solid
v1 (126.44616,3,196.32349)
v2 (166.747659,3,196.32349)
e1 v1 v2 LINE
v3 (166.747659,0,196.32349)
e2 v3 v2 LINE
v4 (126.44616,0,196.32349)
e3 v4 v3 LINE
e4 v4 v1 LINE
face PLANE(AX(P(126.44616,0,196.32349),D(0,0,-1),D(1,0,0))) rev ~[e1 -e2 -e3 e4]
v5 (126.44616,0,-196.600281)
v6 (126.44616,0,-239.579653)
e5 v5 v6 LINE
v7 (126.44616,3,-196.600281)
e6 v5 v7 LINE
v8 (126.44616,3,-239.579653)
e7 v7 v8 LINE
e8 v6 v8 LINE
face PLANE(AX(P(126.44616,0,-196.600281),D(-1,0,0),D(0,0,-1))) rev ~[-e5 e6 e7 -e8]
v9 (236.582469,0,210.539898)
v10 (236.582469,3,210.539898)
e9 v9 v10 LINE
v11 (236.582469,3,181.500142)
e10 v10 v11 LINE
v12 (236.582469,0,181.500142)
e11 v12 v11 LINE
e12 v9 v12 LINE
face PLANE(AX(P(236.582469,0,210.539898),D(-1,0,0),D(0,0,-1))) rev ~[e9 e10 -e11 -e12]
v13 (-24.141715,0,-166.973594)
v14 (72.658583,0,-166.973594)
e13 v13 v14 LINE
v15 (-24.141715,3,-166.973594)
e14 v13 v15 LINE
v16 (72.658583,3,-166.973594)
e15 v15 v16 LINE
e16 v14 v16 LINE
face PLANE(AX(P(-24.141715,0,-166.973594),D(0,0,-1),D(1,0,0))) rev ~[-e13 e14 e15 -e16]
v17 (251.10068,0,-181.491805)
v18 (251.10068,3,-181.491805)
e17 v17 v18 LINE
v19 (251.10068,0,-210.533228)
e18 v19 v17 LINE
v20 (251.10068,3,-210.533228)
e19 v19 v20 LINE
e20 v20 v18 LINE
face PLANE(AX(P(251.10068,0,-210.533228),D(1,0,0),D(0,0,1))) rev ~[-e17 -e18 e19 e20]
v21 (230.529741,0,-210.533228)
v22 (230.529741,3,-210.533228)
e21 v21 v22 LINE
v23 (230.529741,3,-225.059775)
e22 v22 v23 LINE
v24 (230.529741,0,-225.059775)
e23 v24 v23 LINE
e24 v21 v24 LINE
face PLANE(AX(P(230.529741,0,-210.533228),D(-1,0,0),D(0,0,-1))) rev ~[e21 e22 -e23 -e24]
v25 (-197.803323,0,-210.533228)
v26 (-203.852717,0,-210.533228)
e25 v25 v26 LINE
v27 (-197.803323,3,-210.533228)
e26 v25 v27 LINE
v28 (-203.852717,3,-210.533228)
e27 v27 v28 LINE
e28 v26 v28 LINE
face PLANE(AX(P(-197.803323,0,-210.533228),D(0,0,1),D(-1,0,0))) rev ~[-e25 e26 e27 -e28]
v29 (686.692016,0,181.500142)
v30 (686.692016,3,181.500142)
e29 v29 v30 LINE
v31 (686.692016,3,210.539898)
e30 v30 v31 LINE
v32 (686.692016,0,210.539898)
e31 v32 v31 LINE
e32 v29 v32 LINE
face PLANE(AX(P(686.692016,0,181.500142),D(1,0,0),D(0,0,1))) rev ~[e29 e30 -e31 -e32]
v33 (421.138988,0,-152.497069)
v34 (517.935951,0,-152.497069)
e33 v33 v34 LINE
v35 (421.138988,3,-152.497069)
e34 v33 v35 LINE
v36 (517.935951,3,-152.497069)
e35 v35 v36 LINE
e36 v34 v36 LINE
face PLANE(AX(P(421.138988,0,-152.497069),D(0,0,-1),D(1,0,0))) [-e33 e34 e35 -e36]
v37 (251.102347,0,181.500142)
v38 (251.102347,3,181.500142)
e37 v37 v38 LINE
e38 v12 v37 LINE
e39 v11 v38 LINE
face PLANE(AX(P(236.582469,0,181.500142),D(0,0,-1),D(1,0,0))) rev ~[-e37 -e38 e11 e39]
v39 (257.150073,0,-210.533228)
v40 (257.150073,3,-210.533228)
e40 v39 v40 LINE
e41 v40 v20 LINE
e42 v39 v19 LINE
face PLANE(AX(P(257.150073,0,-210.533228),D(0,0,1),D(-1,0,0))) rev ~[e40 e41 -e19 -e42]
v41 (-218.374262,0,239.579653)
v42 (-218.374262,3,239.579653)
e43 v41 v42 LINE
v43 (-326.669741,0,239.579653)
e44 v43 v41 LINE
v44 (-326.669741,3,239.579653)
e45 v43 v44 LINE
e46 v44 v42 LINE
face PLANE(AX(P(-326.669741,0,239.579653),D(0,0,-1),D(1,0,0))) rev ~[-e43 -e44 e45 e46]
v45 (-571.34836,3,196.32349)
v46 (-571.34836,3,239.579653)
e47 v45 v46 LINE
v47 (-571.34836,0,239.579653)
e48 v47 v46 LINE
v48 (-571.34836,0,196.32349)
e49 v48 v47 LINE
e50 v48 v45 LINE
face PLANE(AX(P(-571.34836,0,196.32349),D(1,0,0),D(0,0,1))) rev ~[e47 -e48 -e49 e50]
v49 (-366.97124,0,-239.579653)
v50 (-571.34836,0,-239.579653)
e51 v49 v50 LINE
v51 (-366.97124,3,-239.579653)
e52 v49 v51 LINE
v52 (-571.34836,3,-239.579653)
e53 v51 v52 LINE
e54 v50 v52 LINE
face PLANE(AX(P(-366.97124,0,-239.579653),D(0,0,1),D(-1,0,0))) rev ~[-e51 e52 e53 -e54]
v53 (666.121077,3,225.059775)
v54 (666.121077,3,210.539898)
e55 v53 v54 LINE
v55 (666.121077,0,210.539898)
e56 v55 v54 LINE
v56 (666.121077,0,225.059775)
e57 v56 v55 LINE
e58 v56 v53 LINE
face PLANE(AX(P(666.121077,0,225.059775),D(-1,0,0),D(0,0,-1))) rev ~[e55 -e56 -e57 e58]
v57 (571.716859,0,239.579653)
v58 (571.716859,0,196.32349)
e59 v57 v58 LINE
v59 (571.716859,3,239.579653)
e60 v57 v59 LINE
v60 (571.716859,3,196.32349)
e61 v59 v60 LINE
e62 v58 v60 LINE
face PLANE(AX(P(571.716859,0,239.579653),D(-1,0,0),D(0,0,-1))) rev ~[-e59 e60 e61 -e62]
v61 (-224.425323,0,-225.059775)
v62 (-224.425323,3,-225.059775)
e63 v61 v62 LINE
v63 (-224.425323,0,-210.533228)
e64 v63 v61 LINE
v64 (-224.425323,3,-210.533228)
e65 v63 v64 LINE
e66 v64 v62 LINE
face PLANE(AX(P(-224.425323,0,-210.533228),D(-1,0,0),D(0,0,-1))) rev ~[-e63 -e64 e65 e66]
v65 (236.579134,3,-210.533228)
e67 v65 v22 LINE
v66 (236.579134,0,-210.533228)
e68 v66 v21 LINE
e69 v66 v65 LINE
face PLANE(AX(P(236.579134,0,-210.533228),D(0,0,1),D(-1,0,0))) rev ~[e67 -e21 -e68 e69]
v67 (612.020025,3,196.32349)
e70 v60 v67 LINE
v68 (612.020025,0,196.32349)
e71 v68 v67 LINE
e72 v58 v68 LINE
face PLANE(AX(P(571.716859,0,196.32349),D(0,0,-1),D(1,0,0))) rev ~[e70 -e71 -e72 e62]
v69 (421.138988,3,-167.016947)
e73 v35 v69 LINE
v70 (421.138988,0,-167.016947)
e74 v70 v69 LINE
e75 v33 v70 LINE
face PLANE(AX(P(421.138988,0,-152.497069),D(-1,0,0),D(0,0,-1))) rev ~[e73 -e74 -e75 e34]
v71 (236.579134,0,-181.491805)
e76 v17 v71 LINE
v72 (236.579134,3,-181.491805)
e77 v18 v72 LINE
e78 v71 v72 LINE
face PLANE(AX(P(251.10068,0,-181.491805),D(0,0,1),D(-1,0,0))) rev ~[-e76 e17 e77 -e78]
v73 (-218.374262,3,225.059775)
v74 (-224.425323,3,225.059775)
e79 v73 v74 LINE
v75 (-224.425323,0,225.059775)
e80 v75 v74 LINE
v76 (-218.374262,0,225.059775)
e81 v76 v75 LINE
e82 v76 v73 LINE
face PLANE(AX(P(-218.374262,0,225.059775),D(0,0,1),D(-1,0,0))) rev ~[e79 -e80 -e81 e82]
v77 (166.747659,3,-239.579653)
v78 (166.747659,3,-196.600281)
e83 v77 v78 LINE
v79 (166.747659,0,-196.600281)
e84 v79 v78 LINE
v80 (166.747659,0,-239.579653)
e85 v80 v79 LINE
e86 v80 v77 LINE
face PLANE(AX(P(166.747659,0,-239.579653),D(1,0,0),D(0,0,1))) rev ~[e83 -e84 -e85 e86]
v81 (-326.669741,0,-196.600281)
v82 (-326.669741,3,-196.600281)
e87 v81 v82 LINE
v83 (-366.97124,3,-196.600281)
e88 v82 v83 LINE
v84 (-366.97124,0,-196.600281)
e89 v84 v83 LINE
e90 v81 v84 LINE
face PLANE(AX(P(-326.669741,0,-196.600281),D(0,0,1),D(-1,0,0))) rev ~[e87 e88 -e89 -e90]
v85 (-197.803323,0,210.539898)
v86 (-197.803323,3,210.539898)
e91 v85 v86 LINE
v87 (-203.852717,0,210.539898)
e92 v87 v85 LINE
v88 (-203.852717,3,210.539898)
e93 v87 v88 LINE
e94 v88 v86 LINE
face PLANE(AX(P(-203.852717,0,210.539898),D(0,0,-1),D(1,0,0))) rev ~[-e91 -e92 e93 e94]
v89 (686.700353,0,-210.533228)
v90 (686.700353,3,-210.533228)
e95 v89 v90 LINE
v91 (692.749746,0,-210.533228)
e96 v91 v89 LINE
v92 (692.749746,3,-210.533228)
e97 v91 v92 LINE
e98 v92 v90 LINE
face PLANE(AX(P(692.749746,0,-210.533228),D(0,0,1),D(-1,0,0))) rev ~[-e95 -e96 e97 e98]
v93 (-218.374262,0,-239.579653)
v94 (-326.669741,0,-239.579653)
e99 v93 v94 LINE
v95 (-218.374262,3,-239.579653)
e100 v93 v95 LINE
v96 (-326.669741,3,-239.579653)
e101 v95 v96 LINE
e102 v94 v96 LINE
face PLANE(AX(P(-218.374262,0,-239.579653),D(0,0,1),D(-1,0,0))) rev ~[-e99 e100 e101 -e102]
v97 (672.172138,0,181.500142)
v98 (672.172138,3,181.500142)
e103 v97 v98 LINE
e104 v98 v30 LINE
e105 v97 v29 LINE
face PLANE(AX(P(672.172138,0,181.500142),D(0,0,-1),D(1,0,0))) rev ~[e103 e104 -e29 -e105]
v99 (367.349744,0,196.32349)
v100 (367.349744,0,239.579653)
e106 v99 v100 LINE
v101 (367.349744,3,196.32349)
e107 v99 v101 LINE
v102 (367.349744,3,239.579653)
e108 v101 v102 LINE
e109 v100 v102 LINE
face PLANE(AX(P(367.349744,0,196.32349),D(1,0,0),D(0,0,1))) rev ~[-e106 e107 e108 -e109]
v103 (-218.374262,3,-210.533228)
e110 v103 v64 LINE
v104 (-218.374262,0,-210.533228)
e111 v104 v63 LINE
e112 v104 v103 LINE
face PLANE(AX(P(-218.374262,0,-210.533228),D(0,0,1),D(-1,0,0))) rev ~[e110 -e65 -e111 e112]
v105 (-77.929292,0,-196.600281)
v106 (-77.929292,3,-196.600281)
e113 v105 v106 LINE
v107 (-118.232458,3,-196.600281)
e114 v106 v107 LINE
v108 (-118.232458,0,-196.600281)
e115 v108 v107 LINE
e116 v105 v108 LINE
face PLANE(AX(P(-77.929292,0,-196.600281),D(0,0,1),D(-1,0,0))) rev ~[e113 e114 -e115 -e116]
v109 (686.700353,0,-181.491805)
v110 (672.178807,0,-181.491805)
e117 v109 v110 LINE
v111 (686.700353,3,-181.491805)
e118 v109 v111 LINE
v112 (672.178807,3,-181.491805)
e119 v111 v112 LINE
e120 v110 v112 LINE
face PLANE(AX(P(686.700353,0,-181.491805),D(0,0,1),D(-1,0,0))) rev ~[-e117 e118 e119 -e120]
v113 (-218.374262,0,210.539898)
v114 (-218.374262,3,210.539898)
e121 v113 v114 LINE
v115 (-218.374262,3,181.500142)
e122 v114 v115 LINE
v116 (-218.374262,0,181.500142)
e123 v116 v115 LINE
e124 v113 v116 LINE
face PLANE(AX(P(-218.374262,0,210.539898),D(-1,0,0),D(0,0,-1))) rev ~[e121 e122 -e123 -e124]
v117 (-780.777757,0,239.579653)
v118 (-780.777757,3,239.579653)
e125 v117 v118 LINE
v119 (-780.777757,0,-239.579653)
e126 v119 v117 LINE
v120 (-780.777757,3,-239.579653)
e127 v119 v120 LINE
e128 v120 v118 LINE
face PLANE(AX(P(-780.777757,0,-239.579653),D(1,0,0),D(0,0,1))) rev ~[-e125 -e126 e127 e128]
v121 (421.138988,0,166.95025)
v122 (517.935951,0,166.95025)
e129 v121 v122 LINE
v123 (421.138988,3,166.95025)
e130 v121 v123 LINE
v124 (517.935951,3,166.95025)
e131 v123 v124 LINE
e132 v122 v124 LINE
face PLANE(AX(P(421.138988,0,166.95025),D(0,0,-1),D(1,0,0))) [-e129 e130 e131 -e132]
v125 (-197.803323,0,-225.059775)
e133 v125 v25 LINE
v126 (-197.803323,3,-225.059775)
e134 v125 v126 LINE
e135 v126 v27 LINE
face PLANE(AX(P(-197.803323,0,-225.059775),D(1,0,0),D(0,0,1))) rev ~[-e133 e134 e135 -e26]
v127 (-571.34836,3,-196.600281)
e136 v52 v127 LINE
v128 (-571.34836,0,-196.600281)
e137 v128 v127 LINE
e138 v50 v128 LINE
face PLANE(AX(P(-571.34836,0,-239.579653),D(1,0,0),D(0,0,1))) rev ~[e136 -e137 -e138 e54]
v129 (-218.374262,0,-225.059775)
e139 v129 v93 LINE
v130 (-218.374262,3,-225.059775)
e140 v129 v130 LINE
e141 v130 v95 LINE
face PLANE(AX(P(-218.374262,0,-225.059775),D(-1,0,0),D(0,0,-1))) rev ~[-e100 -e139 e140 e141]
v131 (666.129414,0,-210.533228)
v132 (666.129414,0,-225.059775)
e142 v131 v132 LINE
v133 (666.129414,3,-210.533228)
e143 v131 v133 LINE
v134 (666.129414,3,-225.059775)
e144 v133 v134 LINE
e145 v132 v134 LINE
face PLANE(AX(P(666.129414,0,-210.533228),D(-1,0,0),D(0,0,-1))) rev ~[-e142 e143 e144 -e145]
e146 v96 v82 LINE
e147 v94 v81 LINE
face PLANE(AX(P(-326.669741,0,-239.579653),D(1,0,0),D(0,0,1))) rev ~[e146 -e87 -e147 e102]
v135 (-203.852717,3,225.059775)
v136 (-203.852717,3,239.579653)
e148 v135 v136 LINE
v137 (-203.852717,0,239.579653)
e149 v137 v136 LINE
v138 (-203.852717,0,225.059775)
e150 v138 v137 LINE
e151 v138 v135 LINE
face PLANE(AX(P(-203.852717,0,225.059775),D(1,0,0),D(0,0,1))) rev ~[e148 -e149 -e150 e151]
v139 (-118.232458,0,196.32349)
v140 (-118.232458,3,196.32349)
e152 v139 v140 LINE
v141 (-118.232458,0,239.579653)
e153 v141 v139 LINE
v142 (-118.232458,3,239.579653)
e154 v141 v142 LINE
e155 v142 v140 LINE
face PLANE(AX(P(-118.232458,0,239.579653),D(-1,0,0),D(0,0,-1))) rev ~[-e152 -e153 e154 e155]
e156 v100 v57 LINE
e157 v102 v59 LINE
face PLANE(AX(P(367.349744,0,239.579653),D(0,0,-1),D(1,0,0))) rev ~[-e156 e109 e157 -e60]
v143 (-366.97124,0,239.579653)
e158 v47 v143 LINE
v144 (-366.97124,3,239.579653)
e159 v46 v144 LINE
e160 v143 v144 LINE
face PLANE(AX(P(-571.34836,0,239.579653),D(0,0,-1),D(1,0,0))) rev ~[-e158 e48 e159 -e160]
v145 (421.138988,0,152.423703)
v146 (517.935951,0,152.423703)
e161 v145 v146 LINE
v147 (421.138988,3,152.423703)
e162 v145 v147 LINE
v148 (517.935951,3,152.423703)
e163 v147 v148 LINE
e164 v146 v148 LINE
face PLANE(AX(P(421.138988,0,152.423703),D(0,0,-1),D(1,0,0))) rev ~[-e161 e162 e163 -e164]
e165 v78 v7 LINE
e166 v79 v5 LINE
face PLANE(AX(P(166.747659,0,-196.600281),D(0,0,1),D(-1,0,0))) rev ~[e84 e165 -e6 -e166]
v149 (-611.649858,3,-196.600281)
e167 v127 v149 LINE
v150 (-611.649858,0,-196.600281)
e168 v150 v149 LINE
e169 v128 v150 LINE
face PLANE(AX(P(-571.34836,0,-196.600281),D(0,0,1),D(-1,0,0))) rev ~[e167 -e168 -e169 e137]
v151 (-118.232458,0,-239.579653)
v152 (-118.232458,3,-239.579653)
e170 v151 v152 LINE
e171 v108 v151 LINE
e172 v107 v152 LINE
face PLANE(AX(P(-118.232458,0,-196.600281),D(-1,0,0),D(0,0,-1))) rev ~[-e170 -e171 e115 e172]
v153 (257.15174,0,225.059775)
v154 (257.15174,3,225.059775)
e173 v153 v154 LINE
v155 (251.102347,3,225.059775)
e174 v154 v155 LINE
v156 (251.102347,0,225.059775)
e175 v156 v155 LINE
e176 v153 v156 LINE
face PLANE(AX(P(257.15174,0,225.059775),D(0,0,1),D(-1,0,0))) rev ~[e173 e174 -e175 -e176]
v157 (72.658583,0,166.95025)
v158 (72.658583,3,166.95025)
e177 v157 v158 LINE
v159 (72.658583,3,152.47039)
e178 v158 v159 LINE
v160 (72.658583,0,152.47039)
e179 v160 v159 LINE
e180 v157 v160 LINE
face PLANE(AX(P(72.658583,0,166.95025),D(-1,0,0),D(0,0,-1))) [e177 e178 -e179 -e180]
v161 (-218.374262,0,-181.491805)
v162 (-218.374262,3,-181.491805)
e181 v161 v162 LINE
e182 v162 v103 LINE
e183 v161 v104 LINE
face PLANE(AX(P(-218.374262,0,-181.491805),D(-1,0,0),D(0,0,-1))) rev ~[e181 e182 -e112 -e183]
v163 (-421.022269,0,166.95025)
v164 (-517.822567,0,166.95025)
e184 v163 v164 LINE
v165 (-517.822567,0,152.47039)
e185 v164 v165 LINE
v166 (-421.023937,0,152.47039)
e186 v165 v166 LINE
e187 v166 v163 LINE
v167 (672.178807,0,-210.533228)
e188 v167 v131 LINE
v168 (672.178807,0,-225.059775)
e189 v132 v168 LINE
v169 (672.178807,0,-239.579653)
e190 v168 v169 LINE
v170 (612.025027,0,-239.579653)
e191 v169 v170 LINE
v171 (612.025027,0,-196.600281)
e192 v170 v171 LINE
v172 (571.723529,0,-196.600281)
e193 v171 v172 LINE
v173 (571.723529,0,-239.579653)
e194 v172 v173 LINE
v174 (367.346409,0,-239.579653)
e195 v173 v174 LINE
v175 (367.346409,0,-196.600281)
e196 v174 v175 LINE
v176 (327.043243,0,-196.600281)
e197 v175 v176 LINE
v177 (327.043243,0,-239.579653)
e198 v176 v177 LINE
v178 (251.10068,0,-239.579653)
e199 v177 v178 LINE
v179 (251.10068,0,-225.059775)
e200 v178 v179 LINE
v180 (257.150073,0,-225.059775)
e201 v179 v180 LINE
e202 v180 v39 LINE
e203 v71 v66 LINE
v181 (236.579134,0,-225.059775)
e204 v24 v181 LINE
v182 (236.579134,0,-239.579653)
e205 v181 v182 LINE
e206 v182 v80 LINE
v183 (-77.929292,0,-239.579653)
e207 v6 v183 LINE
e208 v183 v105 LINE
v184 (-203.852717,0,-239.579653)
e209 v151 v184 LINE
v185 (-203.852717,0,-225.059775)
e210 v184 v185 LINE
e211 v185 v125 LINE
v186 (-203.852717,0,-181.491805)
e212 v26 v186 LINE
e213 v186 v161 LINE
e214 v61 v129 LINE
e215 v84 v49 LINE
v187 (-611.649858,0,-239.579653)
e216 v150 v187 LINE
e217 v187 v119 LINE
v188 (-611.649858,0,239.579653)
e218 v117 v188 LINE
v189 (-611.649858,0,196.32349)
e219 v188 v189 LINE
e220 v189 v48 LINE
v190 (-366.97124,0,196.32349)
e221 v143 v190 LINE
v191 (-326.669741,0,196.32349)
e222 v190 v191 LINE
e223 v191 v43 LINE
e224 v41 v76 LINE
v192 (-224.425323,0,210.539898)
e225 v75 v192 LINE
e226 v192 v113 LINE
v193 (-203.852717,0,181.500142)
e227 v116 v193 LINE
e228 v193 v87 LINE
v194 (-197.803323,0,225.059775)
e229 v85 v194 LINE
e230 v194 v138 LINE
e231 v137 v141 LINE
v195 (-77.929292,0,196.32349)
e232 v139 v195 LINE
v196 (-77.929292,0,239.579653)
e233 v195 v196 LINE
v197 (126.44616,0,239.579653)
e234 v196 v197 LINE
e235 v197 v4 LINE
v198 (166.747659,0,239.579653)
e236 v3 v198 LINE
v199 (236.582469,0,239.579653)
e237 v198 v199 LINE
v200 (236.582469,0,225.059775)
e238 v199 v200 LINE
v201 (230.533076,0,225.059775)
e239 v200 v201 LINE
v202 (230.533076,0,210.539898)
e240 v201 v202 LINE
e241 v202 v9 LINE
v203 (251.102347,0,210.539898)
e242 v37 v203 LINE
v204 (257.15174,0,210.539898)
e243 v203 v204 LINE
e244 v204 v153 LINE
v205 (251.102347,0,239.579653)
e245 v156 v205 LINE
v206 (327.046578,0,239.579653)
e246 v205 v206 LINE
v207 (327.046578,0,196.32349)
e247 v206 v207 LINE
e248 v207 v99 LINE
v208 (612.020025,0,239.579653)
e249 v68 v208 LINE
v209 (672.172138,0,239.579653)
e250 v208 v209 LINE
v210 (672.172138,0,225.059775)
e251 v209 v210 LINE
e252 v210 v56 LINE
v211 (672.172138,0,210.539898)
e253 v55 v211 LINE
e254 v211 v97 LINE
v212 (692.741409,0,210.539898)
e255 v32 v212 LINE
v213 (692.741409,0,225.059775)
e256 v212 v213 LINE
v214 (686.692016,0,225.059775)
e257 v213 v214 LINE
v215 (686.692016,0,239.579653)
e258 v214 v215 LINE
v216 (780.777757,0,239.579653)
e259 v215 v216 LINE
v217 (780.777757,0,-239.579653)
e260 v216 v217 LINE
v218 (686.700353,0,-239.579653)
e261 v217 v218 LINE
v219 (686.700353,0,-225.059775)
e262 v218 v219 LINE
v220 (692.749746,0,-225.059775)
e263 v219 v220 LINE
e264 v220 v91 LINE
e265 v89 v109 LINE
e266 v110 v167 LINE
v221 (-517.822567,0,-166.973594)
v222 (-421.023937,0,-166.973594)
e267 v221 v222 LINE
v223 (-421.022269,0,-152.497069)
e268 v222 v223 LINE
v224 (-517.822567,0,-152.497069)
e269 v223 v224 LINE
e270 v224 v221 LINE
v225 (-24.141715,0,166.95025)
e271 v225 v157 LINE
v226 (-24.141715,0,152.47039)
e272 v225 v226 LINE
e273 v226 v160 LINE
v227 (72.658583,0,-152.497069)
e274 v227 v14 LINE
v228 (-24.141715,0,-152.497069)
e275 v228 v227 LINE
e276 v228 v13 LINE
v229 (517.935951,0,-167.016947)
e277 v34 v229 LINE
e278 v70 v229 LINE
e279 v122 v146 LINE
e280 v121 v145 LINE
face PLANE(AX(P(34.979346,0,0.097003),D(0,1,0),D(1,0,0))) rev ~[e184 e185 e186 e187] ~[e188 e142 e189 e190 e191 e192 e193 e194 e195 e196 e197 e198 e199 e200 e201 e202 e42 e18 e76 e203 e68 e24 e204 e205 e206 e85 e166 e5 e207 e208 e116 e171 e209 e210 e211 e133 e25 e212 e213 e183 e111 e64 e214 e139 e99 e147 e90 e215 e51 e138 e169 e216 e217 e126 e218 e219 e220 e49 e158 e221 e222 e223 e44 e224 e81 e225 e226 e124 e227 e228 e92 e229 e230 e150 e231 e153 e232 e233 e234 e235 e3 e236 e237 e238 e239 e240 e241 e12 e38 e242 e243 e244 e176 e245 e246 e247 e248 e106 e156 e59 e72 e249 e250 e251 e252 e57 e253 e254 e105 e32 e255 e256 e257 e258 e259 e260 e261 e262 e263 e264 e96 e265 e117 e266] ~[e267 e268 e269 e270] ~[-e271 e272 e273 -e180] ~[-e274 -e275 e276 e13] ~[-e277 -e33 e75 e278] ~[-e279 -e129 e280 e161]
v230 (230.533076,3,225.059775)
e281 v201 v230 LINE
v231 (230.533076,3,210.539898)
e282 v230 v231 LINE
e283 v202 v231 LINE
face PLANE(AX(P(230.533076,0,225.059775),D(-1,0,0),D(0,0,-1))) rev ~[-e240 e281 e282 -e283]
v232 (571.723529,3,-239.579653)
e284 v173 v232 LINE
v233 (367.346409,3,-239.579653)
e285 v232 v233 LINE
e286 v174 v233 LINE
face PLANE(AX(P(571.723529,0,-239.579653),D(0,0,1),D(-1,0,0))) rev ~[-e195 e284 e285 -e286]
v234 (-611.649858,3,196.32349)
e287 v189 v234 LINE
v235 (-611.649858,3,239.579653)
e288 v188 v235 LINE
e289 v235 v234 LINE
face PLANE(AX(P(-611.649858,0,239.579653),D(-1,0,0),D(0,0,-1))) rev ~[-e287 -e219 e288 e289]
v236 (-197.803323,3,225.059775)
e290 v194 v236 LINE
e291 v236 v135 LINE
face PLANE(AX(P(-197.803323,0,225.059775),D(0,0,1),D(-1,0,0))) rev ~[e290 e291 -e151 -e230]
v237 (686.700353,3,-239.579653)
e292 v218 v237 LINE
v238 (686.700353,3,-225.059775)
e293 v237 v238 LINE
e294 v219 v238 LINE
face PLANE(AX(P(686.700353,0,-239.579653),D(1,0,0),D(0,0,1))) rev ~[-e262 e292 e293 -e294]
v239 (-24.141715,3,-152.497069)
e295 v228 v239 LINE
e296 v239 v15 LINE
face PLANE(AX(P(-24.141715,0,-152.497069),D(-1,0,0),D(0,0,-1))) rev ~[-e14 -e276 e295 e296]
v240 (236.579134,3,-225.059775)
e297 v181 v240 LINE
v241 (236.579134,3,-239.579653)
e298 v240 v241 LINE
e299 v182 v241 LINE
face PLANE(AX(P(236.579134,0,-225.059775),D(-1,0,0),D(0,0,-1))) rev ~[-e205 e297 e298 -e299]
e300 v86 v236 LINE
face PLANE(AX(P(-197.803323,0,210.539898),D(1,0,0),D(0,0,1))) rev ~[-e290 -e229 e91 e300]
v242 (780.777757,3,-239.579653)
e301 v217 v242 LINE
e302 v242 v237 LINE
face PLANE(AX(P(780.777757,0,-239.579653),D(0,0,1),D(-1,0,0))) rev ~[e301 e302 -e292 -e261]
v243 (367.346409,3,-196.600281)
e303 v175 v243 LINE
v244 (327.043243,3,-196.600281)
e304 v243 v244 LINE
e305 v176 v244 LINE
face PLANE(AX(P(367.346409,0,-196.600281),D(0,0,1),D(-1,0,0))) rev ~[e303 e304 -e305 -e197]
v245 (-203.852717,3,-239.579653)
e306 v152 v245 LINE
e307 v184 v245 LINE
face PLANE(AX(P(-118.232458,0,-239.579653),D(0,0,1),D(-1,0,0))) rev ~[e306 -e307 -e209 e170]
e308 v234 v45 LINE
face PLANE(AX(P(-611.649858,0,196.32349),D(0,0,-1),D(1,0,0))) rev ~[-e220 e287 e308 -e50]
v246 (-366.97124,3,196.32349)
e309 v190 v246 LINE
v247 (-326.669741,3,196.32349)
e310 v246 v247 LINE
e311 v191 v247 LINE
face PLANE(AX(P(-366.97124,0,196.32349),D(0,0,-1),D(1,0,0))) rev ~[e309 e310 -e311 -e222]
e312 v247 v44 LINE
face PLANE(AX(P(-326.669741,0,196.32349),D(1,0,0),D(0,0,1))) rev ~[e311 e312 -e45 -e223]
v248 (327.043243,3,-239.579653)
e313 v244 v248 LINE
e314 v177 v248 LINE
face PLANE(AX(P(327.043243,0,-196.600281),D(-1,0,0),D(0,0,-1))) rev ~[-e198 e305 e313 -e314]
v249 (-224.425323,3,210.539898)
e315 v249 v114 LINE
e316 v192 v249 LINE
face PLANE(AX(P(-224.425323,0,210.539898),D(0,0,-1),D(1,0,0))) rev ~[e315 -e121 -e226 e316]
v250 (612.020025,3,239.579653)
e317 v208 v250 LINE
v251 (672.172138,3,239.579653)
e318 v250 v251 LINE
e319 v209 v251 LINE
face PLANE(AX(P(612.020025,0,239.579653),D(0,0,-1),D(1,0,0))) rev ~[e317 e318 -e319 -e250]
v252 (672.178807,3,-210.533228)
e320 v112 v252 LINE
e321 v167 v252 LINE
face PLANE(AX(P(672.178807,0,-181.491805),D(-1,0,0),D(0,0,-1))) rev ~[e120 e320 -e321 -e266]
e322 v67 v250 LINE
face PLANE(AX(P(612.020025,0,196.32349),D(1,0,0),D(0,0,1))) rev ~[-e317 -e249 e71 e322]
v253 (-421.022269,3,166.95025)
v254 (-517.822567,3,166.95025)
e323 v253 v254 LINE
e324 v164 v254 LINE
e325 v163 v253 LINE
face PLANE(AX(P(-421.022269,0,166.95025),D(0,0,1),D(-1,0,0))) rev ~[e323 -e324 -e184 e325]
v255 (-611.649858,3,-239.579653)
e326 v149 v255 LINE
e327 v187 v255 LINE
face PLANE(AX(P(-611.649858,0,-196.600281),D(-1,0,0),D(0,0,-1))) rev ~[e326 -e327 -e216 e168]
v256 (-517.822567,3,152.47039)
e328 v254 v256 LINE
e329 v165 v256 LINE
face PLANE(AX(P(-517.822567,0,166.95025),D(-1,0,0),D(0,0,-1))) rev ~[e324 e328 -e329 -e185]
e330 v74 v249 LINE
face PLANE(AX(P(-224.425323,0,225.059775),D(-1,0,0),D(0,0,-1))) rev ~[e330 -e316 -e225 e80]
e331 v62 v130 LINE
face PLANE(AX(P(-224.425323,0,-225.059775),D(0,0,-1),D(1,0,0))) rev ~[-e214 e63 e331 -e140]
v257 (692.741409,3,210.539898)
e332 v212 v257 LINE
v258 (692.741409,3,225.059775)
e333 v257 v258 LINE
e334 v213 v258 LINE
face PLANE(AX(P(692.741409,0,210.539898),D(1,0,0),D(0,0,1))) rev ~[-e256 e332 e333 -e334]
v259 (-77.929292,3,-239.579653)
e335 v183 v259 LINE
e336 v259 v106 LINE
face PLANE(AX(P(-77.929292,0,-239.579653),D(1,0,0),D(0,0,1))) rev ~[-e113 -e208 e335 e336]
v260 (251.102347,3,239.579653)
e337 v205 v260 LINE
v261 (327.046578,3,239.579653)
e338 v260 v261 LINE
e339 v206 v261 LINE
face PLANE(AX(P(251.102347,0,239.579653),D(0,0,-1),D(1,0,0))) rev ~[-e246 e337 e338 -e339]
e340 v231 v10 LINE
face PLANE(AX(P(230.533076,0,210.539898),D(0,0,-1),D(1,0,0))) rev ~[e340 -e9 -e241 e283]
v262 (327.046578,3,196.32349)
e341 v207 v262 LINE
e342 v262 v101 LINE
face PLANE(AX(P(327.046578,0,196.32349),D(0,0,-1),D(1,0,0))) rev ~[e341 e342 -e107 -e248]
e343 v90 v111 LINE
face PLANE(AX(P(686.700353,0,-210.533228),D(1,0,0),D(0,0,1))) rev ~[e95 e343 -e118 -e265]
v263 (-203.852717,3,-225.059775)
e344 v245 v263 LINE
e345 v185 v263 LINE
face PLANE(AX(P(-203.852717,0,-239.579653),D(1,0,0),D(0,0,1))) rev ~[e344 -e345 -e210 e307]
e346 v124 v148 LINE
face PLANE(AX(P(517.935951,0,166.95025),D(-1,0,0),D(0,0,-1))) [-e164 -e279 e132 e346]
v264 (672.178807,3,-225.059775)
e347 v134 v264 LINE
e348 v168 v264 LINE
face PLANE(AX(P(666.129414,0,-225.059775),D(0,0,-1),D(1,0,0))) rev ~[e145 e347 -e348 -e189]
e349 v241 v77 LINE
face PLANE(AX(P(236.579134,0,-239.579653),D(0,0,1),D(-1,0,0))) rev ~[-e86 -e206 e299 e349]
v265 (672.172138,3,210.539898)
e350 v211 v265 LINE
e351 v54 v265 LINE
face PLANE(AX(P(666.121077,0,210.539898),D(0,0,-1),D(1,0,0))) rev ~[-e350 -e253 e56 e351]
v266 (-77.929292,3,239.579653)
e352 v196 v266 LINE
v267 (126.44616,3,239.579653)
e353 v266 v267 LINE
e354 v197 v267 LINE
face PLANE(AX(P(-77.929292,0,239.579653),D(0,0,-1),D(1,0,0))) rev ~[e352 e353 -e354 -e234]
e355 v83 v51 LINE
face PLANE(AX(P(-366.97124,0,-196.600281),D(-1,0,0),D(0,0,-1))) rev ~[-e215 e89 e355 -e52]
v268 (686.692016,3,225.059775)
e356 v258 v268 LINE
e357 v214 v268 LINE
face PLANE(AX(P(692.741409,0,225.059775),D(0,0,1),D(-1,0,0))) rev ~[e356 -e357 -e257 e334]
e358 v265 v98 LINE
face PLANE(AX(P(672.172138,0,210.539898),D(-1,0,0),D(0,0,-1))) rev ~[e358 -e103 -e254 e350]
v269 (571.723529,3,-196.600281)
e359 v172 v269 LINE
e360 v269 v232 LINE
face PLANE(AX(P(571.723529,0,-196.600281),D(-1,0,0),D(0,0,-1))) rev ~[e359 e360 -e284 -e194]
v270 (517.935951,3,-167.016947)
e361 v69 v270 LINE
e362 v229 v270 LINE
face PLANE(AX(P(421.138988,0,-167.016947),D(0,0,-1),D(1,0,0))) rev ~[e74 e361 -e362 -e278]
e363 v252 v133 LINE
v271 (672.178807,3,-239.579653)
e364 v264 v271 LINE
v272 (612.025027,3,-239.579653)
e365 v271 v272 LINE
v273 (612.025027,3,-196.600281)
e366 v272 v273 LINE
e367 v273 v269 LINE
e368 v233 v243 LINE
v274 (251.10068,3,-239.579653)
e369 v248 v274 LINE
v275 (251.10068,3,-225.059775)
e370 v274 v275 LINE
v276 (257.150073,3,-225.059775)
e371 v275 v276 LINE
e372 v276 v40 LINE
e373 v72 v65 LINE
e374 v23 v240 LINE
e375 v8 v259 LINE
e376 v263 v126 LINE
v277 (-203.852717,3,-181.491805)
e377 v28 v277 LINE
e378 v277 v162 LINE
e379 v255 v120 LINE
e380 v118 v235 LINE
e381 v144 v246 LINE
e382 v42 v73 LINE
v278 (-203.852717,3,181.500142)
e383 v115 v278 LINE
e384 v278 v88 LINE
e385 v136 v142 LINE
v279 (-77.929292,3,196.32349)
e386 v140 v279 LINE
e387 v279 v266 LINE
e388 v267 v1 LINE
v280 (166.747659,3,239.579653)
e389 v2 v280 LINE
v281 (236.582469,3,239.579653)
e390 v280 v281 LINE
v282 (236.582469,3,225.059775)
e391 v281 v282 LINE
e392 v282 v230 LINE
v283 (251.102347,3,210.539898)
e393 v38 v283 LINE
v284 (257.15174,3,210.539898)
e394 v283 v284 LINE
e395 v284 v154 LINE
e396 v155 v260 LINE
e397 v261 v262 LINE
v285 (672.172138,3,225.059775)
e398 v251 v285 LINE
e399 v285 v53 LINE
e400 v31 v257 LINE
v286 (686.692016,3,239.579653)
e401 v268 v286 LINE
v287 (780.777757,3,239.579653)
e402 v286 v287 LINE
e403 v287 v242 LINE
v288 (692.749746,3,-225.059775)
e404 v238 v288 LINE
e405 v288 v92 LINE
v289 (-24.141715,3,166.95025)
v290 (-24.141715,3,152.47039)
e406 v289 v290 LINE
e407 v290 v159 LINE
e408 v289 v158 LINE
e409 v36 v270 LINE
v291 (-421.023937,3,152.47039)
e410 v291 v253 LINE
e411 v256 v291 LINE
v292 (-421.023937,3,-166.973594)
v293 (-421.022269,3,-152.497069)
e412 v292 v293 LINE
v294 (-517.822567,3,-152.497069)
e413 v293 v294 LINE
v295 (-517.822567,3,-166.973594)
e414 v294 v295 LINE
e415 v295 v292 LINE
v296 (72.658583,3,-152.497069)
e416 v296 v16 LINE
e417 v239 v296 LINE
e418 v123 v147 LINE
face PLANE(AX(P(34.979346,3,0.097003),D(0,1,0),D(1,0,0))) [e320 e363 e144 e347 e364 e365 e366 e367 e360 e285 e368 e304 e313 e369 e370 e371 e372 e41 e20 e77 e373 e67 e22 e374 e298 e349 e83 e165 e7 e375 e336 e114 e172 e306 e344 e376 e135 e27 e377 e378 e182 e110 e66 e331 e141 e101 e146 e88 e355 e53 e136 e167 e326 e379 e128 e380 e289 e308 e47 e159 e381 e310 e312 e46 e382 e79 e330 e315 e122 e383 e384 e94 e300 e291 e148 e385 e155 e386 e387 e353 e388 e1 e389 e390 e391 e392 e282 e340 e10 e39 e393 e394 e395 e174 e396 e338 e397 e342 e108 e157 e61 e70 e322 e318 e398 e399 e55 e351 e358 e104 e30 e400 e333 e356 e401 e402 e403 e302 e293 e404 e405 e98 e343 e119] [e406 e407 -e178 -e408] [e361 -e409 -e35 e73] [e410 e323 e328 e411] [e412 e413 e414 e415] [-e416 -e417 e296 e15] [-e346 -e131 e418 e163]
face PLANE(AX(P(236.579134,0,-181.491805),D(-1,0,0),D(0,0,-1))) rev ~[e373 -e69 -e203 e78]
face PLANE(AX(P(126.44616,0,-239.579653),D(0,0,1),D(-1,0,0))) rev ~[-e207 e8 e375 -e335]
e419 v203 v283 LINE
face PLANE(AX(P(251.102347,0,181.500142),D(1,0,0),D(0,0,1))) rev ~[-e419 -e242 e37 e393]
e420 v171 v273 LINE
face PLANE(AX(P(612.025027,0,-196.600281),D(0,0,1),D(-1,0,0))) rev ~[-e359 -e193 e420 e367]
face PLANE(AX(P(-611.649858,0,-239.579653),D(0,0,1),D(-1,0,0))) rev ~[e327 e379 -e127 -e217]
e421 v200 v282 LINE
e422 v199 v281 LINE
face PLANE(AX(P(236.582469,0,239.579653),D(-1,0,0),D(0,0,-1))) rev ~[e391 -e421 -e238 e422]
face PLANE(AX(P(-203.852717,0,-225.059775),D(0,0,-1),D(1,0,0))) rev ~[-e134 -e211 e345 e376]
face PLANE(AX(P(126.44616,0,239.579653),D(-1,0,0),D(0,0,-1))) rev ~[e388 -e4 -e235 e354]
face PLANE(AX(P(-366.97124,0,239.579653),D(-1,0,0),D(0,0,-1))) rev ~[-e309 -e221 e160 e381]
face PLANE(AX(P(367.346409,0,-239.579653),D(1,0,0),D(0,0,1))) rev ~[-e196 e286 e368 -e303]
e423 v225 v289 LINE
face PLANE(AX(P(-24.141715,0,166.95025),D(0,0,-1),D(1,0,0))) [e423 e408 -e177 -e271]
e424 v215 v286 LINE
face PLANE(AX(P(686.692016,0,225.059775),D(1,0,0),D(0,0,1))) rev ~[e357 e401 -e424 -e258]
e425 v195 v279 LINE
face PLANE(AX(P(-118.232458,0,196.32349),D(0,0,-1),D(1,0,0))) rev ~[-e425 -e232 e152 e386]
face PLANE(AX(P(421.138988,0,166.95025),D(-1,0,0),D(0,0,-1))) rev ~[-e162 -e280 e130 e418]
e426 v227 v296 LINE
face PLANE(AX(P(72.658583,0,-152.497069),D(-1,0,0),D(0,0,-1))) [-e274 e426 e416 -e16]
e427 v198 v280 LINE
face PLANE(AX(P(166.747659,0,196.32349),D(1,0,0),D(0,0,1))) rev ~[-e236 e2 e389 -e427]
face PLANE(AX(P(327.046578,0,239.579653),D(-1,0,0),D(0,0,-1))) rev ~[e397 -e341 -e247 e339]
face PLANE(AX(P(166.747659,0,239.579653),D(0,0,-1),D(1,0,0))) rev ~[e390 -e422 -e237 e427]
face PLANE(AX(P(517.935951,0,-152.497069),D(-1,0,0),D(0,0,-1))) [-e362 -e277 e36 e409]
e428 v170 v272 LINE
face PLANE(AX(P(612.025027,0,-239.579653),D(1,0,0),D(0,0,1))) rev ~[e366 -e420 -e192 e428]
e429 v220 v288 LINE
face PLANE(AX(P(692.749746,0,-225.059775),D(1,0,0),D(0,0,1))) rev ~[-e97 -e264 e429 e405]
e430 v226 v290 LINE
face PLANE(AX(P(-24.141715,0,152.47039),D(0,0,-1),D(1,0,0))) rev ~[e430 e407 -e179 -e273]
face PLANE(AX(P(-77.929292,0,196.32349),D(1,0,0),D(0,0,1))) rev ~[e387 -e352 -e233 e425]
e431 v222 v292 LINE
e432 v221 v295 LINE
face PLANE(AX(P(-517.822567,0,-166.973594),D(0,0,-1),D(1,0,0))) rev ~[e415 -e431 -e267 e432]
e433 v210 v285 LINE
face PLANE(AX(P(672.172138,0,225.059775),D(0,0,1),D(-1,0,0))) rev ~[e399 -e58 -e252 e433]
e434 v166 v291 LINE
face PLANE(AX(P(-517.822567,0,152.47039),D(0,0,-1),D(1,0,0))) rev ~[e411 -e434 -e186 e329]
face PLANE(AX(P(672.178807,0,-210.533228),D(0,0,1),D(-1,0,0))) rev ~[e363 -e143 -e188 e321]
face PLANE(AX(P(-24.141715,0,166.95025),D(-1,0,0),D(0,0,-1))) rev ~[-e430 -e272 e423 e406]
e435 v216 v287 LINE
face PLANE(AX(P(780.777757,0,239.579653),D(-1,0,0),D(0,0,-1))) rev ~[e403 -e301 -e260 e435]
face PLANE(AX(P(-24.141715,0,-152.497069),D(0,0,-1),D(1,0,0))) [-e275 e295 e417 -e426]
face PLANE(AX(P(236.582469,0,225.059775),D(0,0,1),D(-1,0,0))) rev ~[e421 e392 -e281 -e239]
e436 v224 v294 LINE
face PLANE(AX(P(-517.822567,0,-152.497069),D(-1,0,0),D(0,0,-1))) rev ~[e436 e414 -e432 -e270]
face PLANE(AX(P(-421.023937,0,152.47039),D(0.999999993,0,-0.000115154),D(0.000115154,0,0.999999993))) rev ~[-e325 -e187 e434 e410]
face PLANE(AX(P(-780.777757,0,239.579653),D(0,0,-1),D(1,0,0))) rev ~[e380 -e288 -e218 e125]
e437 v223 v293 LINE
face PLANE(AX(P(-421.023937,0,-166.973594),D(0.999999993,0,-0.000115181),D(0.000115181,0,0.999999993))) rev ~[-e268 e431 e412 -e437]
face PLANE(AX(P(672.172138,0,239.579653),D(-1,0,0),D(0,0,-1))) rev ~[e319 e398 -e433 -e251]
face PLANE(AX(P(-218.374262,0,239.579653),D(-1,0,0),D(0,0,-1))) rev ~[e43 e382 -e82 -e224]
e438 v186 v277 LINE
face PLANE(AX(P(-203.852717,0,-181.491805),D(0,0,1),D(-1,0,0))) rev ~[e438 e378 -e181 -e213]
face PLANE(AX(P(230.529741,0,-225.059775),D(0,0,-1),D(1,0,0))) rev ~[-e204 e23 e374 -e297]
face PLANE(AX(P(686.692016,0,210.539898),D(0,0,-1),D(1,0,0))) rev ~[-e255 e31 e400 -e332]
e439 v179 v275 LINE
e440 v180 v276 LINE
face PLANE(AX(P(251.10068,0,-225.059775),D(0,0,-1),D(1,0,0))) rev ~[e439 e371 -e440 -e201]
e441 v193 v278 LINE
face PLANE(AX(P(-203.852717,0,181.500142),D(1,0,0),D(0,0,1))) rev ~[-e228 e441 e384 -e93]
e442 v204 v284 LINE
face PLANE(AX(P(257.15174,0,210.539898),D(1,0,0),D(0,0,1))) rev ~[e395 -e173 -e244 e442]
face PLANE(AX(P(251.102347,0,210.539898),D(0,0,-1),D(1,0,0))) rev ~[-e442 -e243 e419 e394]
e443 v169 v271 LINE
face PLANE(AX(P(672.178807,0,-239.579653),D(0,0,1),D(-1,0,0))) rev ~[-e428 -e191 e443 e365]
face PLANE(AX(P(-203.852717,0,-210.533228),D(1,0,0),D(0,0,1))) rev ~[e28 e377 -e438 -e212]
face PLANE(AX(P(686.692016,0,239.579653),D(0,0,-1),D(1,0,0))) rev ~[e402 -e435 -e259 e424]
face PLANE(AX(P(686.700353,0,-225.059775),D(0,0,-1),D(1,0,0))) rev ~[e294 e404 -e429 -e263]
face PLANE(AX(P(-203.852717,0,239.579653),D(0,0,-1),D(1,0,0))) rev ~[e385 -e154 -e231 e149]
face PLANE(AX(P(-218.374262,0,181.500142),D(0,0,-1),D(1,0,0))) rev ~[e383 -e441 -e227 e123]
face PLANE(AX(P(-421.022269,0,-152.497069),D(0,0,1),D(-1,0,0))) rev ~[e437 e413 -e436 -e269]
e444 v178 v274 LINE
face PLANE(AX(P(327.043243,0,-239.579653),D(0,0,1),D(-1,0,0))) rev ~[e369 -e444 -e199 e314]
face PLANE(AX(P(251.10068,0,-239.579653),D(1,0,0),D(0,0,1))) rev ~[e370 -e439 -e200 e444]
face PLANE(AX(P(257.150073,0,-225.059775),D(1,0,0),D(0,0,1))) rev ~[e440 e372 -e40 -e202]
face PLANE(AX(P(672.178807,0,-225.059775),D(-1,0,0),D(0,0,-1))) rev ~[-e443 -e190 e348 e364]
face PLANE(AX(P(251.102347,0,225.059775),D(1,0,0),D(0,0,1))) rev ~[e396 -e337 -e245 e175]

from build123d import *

# Parameters (mm, degrees)
SKETCH1_W           = 96.800297879
SKETCH1_H           = 14.479859902
SKETCH1_H_2         = 14.476525066
SKETCH1_W_2         = 96.796963042
SKETCH1_H_3         = 14.526547613
SKETCH1_H_4         = 14.51987794
BOSS_EXTRUDE1_DEPTH = 3


with BuildPart() as part:
    # Sketch1 → Boss-Extrude1 (new body)
    with BuildSketch(Plane(origin=(0, 0, 0), x_dir=(1, 0, 0), z_dir=(0, 1, 0))):
        Polygon((686.70035272, 239.579653428), (686.70035272, 225.059775488), (692.749746056, 225.059775488), (692.749746056, 210.533227875), (686.70035272, 210.533227875), (686.70035272, 181.491804577), (672.178807362, 181.491804577), (672.178807362, 210.533227875), (666.129414026, 210.533227875), (666.129414026, 225.059775488), (672.178807362, 225.059775488), (672.178807362, 239.579653428), (612.025027325, 239.579653428), (612.025027325, 196.600281152), (571.723528724, 196.600281152), (571.723528724, 239.579653428), (367.346408951, 239.579653428), (367.346408951, 196.600281152), (327.043242933, 196.600281152), (327.043242933, 239.579653428), (251.100679683, 239.579653428), (251.100679683, 225.059775488), (257.150073019, 225.059775488), (257.150073019, 210.533227875), (251.100679683, 210.533227875), (251.100679683, 181.491804577), (236.579134325, 181.491804577), (236.579134325, 210.533227875), (230.529740989, 210.533227875), (230.529740989, 225.059775488), (236.579134325, 225.059775488), (236.579134325, 239.579653428), (166.747658885, 239.579653428), (166.747658885, 196.600281152), (126.446160285, 196.600281152), (126.446160285, 239.579653428), (-77.92929207, 239.579653428), (-77.92929207, 196.600281152), (-118.232458088, 196.600281152), (-118.232458088, 239.579653428), (-203.85271674, 239.579653428), (-203.85271674, 225.059775488), (-197.803323405, 225.059775488), (-197.803323405, 210.533227875), (-203.85271674, 210.533227875), (-203.85271674, 181.491804577), (-218.374262098, 181.491804577), (-218.374262098, 210.533227875), (-224.425322852, 210.533227875), (-224.425322852, 225.059775488), (-218.374262098, 225.059775488), (-218.374262098, 239.579653428), (-326.669741249, 239.579653428), (-326.669741249, 196.600281152), (-366.97123985, 196.600281152), (-366.97123985, 239.579653428), (-571.348359623, 239.579653428), (-571.348359623, 196.600281152), (-611.649858223, 196.600281152), (-611.649858223, 239.579653428), (-780.777756631, 239.579653428), (-780.777756631, -239.579653428), (-611.649858223, -239.579653428), (-611.649858223, -196.323489726), (-571.348359623, -196.323489726), (-571.348359623, -239.579653428), (-366.97123985, -239.579653428), (-366.97123985, -196.323489726), (-326.669741249, -196.323489726), (-326.669741249, -239.579653428), (-218.374262098, -239.579653428), (-218.374262098, -225.059775488), (-224.425322852, -225.059775488), (-224.425322852, -210.539897548), (-218.374262098, -210.539897548), (-218.374262098, -181.500141668), (-203.85271674, -181.500141668), (-203.85271674, -210.539897548), (-197.803323405, -210.539897548), (-197.803323405, -225.059775488), (-203.85271674, -225.059775488), (-203.85271674, -239.579653428), (-118.232458088, -239.579653428), (-118.232458088, -196.323489726), (-77.92929207, -196.323489726), (-77.92929207, -239.579653428), (126.446160285, -239.579653428), (126.446160285, -196.323489726), (166.747658885, -196.323489726), (166.747658885, -239.579653428), (236.582469161, -239.579653428), (236.582469161, -225.059775488), (230.533075826, -225.059775488), (230.533075826, -210.539897548), (236.582469161, -210.539897548), (236.582469161, -181.500141668), (251.102347101, -181.500141668), (251.102347101, -210.539897548), (257.151740437, -210.539897548), (257.151740437, -225.059775488), (251.102347101, -225.059775488), (251.102347101, -239.579653428), (327.046577769, -239.579653428), (327.046577769, -196.323489726), (367.349743788, -196.323489726), (367.349743788, -239.579653428), (571.716859051, -239.579653428), (571.716859051, -196.323489726), (612.02002507, -196.323489726), (612.02002507, -239.579653428), (672.172137689, -239.579653428), (672.172137689, -225.059775488), (666.121076935, -225.059775488), (666.121076935, -210.539897548), (672.172137689, -210.539897548), (672.172137689, -181.500141668), (686.692015629, -181.500141668), (686.692015629, -210.539897548), (692.741408964, -210.539897548), (692.741408964, -225.059775488), (686.692015629, -225.059775488), (686.692015629, -239.579653428), (780.777756631, -239.579653428), (780.777756631, 239.579653428), align=None)
        Polygon((-421.022269168, -166.9502502), (-517.822567047, -166.9502502), (-517.822567047, -152.470390298), (-421.023936586, -152.470390298), align=None, mode=Mode.SUBTRACT)
        Polygon((-421.022269168, 152.497068989), (-517.822567047, 152.497068989), (-517.822567047, 166.973594055), (-421.023936586, 166.973594055), align=None, mode=Mode.SUBTRACT)
        with Locations((24.258434108, -159.710320249)):
            Rectangle(SKETCH1_W, SKETCH1_H, mode=Mode.SUBTRACT)
        with Locations((24.258434108, 159.735331522)):
            Rectangle(SKETCH1_W, SKETCH1_H_2, mode=Mode.SUBTRACT)
        with Locations((469.537469965, -159.686976394)):
            Rectangle(SKETCH1_W_2, SKETCH1_H_3, mode=Mode.SUBTRACT)
        with Locations((469.537469965, 159.757007959)):
            Rectangle(SKETCH1_W_2, SKETCH1_H_4, mode=Mode.SUBTRACT)
    extrude(amount=BOSS_EXTRUDE1_DEPTH)


solid = part.part
